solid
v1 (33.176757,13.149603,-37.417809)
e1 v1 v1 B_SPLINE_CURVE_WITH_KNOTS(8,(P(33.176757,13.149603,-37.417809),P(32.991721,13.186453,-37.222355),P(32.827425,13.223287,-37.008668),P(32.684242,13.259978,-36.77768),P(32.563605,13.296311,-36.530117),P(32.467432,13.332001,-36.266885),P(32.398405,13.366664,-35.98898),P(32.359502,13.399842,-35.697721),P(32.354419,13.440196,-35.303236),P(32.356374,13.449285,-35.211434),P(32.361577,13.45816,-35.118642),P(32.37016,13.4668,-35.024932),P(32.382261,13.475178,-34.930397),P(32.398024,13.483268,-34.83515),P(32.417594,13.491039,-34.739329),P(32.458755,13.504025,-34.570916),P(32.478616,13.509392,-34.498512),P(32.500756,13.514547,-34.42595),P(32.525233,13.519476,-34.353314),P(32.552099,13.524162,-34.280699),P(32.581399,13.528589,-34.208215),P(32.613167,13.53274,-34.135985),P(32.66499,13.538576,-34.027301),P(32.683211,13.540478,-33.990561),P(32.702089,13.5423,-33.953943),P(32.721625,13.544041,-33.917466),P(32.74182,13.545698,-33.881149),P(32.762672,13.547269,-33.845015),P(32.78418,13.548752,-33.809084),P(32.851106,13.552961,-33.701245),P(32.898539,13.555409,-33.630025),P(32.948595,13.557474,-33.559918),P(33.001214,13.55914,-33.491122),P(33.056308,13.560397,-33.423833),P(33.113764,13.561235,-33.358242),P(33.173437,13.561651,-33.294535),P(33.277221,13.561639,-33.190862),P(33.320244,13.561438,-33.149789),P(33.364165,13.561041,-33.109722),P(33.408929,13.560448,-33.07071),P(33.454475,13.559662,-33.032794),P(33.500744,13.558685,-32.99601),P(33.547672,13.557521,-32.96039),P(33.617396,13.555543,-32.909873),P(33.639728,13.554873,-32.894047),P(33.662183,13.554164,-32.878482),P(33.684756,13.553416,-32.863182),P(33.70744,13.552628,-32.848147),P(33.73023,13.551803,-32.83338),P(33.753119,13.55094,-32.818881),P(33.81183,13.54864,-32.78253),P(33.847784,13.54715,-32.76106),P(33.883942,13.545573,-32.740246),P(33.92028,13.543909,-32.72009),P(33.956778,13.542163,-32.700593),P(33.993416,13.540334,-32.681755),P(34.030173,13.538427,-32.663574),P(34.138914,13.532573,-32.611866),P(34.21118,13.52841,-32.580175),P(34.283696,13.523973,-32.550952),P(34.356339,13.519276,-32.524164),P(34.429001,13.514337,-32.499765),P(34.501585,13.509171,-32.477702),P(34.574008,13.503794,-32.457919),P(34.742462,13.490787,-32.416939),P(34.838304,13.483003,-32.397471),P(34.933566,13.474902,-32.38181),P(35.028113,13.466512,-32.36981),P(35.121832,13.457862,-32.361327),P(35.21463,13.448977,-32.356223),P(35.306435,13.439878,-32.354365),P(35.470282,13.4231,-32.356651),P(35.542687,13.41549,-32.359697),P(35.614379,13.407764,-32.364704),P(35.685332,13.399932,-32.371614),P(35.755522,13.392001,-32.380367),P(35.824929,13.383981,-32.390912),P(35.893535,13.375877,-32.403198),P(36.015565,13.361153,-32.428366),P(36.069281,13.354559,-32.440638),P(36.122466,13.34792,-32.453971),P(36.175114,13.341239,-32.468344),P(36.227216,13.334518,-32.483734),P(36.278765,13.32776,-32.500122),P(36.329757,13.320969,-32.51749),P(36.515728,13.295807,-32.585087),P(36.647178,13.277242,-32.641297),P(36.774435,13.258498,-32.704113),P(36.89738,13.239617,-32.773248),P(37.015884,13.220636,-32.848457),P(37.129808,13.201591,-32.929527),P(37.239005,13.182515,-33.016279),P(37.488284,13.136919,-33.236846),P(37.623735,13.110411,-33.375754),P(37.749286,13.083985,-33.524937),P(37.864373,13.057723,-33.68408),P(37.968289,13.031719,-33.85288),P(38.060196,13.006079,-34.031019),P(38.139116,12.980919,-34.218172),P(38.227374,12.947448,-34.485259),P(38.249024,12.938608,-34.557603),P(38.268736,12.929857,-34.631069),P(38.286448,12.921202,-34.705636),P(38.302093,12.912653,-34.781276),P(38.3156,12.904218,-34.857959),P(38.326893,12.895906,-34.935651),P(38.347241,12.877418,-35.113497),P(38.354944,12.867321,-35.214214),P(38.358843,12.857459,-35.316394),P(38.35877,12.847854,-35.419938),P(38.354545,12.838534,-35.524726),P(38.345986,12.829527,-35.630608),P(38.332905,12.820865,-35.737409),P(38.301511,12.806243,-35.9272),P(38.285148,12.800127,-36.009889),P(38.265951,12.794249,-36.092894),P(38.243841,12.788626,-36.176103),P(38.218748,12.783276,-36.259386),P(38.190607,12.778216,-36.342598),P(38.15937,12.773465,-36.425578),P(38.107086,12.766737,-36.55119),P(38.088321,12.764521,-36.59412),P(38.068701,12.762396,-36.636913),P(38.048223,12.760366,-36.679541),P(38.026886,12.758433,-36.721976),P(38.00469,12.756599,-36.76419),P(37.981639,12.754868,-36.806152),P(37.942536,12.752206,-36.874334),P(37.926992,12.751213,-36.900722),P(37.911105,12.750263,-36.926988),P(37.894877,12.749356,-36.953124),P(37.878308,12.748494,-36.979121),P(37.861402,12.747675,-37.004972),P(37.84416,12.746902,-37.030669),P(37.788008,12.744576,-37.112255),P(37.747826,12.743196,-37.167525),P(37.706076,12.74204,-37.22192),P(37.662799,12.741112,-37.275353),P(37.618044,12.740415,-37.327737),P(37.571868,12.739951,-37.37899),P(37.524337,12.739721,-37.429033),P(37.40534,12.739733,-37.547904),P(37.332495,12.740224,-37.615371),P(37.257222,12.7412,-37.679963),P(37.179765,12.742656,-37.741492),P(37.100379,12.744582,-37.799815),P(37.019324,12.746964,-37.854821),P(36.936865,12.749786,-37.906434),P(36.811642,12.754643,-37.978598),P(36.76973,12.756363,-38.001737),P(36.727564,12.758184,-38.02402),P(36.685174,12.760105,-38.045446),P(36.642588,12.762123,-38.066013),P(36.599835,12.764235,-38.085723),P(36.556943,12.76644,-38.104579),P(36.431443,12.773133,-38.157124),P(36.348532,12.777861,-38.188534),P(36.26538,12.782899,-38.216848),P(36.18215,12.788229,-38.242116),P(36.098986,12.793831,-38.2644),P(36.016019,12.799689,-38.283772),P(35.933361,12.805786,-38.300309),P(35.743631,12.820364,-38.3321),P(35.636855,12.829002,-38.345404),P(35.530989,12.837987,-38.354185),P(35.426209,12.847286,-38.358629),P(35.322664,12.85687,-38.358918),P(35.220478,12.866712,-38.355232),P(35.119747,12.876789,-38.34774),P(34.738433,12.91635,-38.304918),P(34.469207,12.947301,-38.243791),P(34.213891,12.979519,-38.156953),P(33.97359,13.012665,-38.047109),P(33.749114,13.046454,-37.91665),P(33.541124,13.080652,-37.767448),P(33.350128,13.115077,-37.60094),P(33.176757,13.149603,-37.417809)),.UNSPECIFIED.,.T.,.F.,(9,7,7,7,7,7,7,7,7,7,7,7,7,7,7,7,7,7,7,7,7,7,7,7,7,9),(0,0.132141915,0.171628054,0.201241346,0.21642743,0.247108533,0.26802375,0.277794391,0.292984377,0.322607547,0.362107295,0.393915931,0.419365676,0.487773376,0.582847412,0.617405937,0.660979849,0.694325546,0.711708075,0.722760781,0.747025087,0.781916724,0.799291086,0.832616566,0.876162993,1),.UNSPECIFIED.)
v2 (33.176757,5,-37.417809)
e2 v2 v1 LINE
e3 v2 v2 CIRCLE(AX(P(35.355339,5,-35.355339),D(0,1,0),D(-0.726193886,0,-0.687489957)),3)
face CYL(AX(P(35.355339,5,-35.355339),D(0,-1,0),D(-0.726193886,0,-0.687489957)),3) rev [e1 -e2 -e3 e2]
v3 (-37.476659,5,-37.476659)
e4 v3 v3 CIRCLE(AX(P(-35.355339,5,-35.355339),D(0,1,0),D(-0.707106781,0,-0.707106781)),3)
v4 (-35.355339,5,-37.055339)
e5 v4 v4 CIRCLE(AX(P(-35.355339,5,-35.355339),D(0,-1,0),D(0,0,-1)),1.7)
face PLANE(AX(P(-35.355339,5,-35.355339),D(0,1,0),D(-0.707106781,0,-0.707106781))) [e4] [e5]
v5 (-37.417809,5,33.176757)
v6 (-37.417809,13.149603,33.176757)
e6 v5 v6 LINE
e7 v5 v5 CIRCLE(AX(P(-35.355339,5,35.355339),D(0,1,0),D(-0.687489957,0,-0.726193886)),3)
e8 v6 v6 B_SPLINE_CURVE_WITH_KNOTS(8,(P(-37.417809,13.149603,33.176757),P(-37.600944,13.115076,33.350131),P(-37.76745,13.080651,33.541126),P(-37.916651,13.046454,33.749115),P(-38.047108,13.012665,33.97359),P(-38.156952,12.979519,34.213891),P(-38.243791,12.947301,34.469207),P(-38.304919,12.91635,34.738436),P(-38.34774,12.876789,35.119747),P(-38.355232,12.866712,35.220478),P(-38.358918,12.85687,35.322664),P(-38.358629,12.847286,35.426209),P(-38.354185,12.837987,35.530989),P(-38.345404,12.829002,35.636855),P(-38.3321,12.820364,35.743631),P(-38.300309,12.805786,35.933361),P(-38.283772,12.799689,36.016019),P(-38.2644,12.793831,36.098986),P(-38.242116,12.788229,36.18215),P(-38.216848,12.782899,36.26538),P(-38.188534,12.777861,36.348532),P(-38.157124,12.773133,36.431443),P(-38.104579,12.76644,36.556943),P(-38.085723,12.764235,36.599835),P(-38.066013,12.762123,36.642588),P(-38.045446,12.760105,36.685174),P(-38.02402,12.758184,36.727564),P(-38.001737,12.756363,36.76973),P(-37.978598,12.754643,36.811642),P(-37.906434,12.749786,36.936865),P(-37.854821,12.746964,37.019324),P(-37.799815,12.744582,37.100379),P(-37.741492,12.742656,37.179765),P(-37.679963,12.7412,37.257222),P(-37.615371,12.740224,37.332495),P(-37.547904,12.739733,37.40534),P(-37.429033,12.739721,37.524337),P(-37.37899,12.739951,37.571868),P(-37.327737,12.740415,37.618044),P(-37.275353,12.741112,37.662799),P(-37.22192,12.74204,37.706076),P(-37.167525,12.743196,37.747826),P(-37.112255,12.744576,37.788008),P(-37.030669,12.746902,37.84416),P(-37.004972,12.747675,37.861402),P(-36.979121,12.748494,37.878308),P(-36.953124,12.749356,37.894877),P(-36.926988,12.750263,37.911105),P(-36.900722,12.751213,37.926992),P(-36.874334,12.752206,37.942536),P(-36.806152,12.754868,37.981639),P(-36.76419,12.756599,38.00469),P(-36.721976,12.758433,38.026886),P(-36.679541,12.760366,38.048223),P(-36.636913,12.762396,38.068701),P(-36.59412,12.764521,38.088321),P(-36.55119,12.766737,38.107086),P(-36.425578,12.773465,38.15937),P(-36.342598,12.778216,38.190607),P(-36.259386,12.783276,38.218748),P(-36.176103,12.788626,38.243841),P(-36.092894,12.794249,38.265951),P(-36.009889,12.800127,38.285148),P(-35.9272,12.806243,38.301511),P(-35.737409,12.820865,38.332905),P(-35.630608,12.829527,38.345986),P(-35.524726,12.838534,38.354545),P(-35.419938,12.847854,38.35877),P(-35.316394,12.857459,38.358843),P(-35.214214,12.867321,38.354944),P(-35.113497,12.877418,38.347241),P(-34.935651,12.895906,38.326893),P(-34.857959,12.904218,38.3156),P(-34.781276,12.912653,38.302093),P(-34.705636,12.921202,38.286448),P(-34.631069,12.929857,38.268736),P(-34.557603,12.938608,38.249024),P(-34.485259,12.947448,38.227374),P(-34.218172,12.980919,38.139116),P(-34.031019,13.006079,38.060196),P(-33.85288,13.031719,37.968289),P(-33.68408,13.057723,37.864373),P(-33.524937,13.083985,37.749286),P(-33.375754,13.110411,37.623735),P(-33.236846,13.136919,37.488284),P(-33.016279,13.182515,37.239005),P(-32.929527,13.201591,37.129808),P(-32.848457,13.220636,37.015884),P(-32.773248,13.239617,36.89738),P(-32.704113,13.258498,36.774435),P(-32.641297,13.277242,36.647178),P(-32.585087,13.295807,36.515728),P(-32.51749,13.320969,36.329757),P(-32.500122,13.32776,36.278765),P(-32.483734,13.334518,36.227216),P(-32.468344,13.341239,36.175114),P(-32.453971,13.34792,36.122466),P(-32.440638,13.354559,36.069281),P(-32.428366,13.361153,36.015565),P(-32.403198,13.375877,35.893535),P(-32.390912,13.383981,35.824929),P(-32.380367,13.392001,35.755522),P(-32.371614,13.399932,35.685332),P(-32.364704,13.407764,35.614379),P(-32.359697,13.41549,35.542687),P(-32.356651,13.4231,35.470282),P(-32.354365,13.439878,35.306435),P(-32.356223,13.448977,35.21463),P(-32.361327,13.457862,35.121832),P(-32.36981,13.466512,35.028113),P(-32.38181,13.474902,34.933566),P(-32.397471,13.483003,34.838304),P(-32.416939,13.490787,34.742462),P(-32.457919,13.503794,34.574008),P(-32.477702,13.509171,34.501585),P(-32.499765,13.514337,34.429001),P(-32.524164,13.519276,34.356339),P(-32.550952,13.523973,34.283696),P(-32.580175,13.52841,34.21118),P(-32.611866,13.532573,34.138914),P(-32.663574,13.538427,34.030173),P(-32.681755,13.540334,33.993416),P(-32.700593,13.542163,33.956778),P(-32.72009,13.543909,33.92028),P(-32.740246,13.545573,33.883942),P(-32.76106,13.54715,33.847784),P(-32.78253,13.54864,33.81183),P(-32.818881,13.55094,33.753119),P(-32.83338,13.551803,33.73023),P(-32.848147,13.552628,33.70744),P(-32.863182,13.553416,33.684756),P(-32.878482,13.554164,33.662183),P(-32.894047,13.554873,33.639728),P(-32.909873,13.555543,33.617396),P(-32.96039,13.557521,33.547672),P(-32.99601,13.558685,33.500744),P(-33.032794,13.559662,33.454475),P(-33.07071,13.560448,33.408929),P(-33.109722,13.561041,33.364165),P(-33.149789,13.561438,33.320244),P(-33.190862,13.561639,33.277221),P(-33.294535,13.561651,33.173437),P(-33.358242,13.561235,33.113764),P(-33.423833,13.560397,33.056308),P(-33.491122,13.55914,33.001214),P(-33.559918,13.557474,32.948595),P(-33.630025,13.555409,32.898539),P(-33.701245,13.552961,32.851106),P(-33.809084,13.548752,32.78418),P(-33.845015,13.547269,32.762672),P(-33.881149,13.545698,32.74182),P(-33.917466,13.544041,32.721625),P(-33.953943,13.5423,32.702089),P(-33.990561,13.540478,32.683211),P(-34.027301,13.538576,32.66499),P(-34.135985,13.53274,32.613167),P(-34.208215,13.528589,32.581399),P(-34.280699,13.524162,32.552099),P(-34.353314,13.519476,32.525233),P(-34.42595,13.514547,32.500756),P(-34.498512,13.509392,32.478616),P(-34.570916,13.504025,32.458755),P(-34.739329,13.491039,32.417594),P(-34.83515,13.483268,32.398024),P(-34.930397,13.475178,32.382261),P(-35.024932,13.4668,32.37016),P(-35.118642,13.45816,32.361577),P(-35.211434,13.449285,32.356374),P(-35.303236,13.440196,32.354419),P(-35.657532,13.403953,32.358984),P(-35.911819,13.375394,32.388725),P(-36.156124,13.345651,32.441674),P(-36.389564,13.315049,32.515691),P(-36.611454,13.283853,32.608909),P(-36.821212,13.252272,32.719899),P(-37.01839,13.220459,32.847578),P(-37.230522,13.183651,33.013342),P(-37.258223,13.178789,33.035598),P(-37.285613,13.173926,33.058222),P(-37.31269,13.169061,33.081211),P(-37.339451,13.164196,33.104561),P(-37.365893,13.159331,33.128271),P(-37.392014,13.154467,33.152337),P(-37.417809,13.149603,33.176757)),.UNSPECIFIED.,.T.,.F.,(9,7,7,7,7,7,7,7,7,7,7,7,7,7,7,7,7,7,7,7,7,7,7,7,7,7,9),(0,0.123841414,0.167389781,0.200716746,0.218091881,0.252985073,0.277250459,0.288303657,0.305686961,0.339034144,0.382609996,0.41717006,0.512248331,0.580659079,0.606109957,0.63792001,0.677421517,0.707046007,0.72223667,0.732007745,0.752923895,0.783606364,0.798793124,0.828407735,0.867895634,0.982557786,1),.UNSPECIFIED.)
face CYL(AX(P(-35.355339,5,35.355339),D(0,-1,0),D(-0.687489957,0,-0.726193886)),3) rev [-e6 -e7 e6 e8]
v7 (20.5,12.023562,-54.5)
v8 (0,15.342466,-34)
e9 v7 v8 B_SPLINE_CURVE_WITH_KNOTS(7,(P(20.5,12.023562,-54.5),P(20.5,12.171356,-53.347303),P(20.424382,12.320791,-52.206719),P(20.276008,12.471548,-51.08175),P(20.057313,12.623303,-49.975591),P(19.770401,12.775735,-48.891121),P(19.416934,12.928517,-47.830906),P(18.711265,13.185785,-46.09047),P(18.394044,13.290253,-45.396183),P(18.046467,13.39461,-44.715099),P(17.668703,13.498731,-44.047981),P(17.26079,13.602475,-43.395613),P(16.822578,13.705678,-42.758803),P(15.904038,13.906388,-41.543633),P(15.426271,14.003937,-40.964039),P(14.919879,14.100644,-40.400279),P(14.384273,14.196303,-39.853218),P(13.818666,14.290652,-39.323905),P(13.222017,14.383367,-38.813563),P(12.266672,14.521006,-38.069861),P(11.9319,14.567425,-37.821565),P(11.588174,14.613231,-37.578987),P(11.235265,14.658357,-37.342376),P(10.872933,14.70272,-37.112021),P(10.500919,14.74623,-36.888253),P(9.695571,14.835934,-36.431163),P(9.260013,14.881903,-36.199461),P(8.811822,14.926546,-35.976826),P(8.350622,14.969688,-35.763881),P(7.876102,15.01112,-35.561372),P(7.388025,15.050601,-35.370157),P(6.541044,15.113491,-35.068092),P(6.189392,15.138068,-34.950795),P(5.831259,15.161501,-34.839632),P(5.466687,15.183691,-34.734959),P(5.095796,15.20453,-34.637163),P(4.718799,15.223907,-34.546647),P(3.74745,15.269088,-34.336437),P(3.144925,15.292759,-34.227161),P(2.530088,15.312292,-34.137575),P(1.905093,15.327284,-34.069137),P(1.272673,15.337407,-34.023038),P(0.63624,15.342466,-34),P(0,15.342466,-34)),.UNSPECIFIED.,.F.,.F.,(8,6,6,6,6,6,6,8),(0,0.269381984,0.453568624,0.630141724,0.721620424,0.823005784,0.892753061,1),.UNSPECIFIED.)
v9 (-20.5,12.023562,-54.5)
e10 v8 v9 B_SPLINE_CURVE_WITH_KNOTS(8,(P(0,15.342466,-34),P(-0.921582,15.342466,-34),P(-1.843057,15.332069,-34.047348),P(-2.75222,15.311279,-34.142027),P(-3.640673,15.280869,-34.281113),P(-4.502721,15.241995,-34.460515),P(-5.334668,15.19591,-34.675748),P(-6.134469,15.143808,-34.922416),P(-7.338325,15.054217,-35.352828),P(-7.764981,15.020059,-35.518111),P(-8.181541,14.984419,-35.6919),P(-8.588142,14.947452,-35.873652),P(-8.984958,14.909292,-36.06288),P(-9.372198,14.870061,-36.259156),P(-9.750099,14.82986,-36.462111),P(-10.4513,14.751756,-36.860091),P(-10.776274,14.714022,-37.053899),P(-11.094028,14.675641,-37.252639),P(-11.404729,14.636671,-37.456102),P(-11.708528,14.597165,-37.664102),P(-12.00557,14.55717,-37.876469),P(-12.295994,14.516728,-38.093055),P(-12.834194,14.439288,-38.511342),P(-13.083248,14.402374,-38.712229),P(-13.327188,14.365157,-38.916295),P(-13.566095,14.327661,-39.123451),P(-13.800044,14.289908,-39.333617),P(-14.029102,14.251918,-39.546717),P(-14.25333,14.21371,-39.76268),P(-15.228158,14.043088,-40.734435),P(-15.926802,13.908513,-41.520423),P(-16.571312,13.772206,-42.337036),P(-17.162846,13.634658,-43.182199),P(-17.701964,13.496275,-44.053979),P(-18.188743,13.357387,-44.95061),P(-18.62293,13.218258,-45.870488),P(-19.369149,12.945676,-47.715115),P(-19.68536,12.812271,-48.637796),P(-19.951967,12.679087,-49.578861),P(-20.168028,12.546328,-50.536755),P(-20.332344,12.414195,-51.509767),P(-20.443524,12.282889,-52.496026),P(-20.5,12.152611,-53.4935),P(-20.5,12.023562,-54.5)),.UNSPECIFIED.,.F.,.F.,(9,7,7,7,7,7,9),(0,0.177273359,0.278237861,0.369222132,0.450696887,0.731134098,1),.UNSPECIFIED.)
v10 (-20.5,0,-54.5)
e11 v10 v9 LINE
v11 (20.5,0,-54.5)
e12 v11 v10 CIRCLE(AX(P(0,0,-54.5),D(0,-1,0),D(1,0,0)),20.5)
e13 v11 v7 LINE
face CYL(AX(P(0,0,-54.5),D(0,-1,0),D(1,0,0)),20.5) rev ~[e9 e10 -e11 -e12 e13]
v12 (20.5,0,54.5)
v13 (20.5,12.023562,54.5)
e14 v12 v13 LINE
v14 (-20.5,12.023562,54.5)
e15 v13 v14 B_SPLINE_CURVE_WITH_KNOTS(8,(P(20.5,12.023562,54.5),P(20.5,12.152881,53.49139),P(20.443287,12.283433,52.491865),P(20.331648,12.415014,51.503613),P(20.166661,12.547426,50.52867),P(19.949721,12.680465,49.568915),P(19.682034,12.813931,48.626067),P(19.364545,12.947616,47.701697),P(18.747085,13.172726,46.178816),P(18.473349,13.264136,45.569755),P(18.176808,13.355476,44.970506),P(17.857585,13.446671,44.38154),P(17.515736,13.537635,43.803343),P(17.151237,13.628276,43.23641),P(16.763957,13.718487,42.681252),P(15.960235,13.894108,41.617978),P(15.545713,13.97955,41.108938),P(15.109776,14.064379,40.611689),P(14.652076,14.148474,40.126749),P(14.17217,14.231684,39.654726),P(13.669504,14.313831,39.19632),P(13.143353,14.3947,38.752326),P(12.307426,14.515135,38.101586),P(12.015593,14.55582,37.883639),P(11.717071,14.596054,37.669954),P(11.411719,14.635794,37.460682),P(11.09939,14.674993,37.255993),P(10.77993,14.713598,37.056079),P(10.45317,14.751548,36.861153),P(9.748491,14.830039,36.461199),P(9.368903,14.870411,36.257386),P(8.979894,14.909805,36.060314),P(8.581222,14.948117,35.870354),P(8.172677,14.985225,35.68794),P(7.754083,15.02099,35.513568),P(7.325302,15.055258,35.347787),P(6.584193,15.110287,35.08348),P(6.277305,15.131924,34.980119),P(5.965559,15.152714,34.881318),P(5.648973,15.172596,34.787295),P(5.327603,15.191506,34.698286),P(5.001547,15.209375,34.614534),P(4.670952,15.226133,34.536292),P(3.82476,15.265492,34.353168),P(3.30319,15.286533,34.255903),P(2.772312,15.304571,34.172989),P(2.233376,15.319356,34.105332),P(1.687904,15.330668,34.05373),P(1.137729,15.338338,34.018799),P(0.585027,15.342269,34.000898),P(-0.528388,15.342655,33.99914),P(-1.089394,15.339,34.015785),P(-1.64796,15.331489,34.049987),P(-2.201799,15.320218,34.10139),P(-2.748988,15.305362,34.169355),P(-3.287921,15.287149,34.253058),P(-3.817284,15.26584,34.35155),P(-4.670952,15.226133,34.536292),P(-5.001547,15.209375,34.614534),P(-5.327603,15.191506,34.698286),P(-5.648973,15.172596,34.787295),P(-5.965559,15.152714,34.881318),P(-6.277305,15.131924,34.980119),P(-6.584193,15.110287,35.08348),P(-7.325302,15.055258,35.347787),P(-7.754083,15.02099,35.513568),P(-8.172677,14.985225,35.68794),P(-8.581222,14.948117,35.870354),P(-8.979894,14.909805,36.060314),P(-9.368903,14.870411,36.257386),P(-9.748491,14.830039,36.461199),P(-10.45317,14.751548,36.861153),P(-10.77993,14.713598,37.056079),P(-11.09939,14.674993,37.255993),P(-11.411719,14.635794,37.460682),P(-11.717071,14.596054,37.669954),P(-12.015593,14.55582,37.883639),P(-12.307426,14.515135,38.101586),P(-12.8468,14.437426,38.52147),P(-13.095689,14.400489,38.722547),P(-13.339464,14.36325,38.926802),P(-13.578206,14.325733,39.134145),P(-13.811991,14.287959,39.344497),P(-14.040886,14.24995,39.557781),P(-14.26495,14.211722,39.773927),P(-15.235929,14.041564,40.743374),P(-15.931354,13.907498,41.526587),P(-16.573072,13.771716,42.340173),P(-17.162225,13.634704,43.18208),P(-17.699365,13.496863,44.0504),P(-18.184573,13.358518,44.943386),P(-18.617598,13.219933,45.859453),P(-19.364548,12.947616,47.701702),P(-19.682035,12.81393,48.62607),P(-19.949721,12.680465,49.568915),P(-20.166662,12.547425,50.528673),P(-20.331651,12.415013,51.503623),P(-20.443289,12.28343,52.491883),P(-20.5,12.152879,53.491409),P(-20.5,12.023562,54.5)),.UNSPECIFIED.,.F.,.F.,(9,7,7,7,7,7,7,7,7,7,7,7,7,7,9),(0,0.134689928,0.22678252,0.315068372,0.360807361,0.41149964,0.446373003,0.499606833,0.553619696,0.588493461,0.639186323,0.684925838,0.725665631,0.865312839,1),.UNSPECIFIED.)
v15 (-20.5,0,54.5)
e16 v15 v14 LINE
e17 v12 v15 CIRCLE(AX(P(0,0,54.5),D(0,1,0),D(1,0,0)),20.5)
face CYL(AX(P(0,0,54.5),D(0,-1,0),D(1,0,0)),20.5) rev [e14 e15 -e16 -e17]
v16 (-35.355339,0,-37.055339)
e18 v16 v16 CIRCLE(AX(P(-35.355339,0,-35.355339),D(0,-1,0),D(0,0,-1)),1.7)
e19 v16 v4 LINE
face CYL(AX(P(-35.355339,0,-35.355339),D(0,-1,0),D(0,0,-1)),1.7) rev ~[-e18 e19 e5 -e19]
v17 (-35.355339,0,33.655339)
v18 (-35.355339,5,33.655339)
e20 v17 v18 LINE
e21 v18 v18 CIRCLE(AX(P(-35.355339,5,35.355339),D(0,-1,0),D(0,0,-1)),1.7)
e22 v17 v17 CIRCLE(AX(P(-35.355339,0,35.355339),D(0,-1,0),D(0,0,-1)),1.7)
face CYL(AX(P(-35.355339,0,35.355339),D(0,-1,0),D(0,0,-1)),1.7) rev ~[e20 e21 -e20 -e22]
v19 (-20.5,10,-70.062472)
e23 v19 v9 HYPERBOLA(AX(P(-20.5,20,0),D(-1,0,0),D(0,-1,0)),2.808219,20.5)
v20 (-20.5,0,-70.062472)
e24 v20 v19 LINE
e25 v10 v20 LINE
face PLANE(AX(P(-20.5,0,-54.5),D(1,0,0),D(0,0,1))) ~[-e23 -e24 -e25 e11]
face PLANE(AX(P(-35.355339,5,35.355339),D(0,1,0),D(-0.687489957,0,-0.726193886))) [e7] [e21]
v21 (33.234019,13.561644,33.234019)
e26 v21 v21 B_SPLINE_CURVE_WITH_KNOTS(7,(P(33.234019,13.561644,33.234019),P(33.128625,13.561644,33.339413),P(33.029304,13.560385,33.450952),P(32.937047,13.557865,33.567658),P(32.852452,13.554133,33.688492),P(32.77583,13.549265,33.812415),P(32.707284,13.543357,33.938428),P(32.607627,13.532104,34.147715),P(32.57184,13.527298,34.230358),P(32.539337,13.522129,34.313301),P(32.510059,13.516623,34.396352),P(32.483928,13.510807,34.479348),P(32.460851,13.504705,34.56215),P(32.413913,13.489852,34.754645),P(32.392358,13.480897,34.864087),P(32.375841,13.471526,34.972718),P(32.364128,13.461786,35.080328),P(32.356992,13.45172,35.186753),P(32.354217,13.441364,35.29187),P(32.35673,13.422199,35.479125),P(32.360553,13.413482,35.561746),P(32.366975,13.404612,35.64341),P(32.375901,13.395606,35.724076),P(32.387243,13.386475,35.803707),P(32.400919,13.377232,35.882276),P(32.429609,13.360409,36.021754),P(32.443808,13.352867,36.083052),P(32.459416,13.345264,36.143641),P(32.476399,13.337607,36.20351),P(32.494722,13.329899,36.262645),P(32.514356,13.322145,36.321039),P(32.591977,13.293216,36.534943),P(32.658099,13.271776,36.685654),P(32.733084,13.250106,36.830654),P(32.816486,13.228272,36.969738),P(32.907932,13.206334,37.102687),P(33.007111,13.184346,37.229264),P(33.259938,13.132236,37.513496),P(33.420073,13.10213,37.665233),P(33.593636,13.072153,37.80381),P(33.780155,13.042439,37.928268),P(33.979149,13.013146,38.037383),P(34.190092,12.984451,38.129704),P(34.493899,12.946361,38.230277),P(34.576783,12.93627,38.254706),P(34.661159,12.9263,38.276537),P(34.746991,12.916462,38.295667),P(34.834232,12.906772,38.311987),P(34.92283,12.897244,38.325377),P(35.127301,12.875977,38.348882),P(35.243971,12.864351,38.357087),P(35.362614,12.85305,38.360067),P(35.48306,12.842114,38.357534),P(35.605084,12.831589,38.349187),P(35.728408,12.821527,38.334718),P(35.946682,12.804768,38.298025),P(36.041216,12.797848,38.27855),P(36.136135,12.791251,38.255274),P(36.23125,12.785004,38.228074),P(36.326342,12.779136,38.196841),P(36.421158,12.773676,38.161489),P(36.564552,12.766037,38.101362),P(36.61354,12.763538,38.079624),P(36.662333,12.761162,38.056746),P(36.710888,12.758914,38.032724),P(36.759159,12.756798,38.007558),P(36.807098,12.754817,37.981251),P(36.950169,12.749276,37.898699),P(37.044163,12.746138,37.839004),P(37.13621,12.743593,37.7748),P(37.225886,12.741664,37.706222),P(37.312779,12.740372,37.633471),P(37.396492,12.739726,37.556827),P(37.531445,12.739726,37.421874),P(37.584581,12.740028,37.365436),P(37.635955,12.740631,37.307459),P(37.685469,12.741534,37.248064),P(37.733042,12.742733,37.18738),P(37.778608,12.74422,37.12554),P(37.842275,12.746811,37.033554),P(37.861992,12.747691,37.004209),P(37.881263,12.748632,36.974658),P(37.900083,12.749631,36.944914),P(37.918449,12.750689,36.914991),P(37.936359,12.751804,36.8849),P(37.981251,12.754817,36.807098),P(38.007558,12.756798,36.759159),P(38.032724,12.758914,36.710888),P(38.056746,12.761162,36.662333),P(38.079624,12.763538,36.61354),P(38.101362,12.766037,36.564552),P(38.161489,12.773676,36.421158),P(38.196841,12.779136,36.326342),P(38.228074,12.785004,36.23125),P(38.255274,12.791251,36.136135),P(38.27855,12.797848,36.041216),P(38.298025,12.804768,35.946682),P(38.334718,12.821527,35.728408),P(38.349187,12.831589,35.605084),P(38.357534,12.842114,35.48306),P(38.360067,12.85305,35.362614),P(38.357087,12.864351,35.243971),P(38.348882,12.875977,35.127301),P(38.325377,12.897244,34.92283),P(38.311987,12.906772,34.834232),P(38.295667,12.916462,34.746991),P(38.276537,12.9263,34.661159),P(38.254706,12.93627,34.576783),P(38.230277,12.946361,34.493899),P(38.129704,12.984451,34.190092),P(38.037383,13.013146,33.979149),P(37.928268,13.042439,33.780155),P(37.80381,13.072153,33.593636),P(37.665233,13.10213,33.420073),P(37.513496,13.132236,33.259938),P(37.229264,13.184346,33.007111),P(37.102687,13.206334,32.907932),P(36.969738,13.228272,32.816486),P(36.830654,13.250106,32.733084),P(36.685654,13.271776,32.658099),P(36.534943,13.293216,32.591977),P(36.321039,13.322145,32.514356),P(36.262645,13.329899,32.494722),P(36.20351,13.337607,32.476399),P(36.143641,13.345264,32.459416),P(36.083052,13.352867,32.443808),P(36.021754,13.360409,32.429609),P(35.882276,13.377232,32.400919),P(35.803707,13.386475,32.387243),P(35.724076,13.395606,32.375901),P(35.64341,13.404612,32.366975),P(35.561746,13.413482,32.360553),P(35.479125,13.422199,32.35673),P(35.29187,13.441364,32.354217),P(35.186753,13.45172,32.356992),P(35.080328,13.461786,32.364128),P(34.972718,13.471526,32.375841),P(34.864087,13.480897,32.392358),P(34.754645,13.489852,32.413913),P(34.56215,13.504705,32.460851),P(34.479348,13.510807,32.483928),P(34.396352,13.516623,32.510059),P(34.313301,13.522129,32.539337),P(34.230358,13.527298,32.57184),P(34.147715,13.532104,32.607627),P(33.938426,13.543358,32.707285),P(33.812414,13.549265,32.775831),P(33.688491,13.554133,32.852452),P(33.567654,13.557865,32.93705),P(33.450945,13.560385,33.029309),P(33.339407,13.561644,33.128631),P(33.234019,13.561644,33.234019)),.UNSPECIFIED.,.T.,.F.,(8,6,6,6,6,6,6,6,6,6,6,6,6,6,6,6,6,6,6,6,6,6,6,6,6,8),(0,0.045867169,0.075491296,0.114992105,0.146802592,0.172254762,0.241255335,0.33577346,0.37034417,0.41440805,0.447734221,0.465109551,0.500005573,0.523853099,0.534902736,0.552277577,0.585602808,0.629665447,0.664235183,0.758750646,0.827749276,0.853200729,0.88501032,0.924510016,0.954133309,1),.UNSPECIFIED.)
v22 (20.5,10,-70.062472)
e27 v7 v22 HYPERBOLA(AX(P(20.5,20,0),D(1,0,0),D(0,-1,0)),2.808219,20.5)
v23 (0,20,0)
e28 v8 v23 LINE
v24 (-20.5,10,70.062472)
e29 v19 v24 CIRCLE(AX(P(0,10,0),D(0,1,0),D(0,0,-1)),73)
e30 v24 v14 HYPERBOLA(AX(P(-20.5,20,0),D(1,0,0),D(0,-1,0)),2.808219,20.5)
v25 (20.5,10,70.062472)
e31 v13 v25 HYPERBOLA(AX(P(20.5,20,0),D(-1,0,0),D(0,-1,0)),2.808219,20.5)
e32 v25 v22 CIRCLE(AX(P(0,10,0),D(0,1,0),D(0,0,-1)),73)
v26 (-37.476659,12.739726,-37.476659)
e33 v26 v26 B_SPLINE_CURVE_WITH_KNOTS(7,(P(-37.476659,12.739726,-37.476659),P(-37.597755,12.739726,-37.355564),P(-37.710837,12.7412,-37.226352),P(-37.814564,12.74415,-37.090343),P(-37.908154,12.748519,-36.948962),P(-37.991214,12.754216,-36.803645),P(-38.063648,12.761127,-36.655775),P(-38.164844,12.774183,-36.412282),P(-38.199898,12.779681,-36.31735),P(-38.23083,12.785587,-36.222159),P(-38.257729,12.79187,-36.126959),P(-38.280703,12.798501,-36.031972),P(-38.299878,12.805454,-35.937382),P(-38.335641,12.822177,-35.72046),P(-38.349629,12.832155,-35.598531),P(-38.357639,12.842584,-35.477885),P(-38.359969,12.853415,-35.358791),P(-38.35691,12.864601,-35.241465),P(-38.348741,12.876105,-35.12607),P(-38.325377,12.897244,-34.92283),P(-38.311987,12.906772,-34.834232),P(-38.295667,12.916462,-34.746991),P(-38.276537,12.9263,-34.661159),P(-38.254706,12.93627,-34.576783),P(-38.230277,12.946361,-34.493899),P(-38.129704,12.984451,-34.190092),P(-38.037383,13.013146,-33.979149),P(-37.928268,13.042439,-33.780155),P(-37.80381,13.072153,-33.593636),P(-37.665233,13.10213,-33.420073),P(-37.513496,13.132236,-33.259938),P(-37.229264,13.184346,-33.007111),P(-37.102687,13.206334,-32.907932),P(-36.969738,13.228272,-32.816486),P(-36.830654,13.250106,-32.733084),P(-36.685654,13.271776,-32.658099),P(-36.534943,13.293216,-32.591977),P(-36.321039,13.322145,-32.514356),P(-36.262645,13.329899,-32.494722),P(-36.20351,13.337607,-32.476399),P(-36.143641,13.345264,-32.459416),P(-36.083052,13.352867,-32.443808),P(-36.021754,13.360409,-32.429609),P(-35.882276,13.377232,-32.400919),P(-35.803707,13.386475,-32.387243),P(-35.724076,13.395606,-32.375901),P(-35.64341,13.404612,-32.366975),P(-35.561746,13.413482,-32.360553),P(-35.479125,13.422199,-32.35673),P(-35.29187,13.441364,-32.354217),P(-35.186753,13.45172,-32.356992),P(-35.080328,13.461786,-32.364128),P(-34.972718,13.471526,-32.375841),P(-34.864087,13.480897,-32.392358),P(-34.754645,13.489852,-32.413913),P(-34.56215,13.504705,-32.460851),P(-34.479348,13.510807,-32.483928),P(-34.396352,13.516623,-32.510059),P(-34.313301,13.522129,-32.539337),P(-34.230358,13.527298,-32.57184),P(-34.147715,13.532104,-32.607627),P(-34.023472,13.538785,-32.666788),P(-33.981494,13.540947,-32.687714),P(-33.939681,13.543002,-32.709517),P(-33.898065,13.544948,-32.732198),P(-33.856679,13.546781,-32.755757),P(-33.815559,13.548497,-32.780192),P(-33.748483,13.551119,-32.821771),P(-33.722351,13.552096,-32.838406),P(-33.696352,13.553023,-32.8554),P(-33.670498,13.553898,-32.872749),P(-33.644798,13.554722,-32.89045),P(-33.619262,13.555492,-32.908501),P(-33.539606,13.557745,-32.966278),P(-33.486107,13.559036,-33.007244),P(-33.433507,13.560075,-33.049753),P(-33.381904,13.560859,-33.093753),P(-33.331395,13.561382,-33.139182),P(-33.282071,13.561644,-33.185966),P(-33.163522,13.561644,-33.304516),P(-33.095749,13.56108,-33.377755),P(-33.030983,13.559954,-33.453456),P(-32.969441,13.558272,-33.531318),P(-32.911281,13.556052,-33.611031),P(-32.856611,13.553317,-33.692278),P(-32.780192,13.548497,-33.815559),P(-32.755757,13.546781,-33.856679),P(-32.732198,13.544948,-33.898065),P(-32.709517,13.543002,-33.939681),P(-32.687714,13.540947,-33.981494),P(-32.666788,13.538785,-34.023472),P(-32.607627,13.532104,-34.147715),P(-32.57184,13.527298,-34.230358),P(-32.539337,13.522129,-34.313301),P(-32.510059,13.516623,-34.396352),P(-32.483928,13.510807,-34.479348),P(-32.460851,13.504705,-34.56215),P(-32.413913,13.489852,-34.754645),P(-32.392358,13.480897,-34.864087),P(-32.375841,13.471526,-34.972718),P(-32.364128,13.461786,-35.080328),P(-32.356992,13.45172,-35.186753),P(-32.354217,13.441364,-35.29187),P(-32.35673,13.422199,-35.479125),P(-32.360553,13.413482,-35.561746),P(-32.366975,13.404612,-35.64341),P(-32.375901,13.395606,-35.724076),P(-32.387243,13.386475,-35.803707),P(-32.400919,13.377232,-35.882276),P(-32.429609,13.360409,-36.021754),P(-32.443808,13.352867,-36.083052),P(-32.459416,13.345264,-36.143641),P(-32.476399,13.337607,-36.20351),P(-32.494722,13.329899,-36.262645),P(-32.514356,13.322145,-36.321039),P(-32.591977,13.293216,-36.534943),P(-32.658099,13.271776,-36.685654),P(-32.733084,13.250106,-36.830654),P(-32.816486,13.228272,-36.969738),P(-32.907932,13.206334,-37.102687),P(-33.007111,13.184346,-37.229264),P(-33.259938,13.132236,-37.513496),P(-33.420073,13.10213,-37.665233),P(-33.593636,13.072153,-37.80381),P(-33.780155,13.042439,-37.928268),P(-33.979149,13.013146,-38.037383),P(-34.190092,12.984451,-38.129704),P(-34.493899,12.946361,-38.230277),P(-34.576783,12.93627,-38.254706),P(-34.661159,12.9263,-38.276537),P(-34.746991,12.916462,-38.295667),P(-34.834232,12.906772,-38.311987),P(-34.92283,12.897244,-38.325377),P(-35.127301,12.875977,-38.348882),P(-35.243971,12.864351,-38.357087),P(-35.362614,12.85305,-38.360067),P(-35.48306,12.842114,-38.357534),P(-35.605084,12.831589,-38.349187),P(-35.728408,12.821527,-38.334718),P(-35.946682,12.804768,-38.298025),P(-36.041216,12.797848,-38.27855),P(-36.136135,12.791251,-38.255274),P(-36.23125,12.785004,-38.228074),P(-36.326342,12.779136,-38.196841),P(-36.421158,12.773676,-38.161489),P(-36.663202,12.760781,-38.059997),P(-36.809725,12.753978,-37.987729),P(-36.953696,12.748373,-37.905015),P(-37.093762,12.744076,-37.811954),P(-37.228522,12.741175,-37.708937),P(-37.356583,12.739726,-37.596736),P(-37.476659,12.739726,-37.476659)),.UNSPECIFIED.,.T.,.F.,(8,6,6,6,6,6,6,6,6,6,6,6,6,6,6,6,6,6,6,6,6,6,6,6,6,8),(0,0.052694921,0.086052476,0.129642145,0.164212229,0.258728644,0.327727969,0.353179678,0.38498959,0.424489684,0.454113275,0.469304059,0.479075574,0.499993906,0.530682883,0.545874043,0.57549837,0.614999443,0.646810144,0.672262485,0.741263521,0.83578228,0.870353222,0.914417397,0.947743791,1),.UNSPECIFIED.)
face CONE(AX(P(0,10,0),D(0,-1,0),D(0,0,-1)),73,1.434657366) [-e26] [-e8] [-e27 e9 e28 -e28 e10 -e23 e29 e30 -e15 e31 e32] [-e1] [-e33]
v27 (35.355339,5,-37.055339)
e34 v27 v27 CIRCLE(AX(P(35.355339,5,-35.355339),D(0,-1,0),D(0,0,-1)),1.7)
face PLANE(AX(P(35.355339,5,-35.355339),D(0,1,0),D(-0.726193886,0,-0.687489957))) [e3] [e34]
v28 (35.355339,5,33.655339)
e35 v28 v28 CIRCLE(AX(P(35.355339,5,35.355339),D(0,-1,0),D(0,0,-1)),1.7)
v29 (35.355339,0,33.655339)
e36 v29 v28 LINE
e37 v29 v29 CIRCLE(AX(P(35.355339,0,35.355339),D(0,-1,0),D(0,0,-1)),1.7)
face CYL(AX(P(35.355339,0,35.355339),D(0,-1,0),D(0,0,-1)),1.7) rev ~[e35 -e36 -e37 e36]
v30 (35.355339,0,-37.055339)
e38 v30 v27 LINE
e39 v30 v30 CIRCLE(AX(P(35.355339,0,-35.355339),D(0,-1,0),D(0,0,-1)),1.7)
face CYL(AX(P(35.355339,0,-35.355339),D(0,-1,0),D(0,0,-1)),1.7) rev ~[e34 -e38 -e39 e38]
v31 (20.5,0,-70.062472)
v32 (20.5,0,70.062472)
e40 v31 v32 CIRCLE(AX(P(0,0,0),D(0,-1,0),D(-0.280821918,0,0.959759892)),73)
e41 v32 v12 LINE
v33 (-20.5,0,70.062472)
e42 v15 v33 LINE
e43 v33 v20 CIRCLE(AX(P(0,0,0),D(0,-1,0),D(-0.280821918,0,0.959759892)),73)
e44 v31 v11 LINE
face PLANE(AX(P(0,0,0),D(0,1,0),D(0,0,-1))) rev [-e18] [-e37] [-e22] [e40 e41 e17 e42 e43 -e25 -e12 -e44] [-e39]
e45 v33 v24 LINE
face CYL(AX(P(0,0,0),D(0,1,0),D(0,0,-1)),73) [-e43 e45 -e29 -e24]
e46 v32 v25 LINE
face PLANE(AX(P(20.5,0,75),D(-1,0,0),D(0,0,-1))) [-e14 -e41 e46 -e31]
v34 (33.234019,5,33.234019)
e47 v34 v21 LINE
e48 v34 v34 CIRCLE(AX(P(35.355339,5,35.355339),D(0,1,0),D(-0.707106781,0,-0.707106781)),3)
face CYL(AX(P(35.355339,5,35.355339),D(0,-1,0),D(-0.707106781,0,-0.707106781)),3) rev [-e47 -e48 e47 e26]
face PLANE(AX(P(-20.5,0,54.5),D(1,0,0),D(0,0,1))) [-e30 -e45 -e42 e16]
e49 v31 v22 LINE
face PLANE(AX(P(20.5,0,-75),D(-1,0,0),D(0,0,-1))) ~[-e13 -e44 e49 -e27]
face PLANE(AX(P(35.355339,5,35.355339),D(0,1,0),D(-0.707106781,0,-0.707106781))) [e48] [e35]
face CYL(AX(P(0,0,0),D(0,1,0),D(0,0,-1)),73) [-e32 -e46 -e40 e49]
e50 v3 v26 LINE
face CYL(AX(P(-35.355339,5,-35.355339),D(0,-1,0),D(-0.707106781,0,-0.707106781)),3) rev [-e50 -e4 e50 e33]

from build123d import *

# Parameters (mm, degrees)
SKETCH4_R          = 1.7
CUT_EXTRUDE1_DEPTH = 106.157025443
CUT_EXTRUDE2_DEPTH = 106.157025601
SKETCH9_R          = 3
CUT_EXTRUDE3_DEPTH = 103.287584934


with BuildPart() as part:
    # Sketch2 → Revolve1 (revolve)
    with BuildSketch(Plane(origin=(0, 0, 0), x_dir=(0, 0, -1), z_dir=(1, 0, 0))):
        Polygon((0, 0), (73, 0), (73, 10), (0, 20), align=None)
    revolve(axis=Axis((0, 10, 0), (0, 1, 0)))

    # Sketch4 → Cut-Extrude1 (cut, through all)
    with BuildSketch(Plane.XZ):
        with Locations(Location((-35.355339059, 35.355339059, 0), (0, 0, 270))):
            Circle(SKETCH4_R)
        with Locations(Location((35.355339059, 35.355339059, 0), (0, 0, 270))):
            Circle(SKETCH4_R)
        with Locations(Location((35.355339059, -35.355339059, 0), (0, 0, 270))):
            Circle(SKETCH4_R)
        with Locations(Location((-35.355339059, -35.355339059, 0), (0, 0, 270))):
            Circle(SKETCH4_R)
    extrude(amount=-CUT_EXTRUDE1_DEPTH, mode=Mode.SUBTRACT)

    # Sketch5 → Cut-Extrude2 (cut, through all)
    with BuildSketch(Plane.XZ):
        with BuildLine():
            Line((-20.5, 54.5), (-20.5, 75))
            Line((-20.5, 75), (0, 75))
            Line((0, 75), (20.5, 75))
            Line((20.5, 75), (20.5, 54.5))
            ThreePointArc((20.5, 54.5), (0, 34), (-20.5, 54.5))
        make_face()
    cut_extrude2 = extrude(amount=-CUT_EXTRUDE2_DEPTH, mode=Mode.SUBTRACT)

    # Mirror1: Cut-Extrude2 across plane
    add(cut_extrude2.mirror(Plane.XY), mode=Mode.SUBTRACT)

    # Sketch9 → Cut-Extrude3 (cut, through all)
    with BuildSketch(Plane(origin=(0, 5, 0), x_dir=(1, 0, 0), z_dir=(0, 1, 0))):
        with Locations(Location((-35.355339059, -35.355339059, 0), (0, 0, 133.431744149))):
            Circle(SKETCH9_R)
        with Locations(Location((-35.355339059, 35.355339059, 0), (0, 0, 135))):
            Circle(SKETCH9_R)
        with Locations(Location((35.355339059, 35.355339059, 0), (0, 0, 136.568255851))):
            Circle(SKETCH9_R)
        with Locations(Location((35.355339059, -35.355339059, 0), (0, 0, 135))):
            Circle(SKETCH9_R)
    extrude(amount=CUT_EXTRUDE3_DEPTH, mode=Mode.SUBTRACT)


solid = part.part
